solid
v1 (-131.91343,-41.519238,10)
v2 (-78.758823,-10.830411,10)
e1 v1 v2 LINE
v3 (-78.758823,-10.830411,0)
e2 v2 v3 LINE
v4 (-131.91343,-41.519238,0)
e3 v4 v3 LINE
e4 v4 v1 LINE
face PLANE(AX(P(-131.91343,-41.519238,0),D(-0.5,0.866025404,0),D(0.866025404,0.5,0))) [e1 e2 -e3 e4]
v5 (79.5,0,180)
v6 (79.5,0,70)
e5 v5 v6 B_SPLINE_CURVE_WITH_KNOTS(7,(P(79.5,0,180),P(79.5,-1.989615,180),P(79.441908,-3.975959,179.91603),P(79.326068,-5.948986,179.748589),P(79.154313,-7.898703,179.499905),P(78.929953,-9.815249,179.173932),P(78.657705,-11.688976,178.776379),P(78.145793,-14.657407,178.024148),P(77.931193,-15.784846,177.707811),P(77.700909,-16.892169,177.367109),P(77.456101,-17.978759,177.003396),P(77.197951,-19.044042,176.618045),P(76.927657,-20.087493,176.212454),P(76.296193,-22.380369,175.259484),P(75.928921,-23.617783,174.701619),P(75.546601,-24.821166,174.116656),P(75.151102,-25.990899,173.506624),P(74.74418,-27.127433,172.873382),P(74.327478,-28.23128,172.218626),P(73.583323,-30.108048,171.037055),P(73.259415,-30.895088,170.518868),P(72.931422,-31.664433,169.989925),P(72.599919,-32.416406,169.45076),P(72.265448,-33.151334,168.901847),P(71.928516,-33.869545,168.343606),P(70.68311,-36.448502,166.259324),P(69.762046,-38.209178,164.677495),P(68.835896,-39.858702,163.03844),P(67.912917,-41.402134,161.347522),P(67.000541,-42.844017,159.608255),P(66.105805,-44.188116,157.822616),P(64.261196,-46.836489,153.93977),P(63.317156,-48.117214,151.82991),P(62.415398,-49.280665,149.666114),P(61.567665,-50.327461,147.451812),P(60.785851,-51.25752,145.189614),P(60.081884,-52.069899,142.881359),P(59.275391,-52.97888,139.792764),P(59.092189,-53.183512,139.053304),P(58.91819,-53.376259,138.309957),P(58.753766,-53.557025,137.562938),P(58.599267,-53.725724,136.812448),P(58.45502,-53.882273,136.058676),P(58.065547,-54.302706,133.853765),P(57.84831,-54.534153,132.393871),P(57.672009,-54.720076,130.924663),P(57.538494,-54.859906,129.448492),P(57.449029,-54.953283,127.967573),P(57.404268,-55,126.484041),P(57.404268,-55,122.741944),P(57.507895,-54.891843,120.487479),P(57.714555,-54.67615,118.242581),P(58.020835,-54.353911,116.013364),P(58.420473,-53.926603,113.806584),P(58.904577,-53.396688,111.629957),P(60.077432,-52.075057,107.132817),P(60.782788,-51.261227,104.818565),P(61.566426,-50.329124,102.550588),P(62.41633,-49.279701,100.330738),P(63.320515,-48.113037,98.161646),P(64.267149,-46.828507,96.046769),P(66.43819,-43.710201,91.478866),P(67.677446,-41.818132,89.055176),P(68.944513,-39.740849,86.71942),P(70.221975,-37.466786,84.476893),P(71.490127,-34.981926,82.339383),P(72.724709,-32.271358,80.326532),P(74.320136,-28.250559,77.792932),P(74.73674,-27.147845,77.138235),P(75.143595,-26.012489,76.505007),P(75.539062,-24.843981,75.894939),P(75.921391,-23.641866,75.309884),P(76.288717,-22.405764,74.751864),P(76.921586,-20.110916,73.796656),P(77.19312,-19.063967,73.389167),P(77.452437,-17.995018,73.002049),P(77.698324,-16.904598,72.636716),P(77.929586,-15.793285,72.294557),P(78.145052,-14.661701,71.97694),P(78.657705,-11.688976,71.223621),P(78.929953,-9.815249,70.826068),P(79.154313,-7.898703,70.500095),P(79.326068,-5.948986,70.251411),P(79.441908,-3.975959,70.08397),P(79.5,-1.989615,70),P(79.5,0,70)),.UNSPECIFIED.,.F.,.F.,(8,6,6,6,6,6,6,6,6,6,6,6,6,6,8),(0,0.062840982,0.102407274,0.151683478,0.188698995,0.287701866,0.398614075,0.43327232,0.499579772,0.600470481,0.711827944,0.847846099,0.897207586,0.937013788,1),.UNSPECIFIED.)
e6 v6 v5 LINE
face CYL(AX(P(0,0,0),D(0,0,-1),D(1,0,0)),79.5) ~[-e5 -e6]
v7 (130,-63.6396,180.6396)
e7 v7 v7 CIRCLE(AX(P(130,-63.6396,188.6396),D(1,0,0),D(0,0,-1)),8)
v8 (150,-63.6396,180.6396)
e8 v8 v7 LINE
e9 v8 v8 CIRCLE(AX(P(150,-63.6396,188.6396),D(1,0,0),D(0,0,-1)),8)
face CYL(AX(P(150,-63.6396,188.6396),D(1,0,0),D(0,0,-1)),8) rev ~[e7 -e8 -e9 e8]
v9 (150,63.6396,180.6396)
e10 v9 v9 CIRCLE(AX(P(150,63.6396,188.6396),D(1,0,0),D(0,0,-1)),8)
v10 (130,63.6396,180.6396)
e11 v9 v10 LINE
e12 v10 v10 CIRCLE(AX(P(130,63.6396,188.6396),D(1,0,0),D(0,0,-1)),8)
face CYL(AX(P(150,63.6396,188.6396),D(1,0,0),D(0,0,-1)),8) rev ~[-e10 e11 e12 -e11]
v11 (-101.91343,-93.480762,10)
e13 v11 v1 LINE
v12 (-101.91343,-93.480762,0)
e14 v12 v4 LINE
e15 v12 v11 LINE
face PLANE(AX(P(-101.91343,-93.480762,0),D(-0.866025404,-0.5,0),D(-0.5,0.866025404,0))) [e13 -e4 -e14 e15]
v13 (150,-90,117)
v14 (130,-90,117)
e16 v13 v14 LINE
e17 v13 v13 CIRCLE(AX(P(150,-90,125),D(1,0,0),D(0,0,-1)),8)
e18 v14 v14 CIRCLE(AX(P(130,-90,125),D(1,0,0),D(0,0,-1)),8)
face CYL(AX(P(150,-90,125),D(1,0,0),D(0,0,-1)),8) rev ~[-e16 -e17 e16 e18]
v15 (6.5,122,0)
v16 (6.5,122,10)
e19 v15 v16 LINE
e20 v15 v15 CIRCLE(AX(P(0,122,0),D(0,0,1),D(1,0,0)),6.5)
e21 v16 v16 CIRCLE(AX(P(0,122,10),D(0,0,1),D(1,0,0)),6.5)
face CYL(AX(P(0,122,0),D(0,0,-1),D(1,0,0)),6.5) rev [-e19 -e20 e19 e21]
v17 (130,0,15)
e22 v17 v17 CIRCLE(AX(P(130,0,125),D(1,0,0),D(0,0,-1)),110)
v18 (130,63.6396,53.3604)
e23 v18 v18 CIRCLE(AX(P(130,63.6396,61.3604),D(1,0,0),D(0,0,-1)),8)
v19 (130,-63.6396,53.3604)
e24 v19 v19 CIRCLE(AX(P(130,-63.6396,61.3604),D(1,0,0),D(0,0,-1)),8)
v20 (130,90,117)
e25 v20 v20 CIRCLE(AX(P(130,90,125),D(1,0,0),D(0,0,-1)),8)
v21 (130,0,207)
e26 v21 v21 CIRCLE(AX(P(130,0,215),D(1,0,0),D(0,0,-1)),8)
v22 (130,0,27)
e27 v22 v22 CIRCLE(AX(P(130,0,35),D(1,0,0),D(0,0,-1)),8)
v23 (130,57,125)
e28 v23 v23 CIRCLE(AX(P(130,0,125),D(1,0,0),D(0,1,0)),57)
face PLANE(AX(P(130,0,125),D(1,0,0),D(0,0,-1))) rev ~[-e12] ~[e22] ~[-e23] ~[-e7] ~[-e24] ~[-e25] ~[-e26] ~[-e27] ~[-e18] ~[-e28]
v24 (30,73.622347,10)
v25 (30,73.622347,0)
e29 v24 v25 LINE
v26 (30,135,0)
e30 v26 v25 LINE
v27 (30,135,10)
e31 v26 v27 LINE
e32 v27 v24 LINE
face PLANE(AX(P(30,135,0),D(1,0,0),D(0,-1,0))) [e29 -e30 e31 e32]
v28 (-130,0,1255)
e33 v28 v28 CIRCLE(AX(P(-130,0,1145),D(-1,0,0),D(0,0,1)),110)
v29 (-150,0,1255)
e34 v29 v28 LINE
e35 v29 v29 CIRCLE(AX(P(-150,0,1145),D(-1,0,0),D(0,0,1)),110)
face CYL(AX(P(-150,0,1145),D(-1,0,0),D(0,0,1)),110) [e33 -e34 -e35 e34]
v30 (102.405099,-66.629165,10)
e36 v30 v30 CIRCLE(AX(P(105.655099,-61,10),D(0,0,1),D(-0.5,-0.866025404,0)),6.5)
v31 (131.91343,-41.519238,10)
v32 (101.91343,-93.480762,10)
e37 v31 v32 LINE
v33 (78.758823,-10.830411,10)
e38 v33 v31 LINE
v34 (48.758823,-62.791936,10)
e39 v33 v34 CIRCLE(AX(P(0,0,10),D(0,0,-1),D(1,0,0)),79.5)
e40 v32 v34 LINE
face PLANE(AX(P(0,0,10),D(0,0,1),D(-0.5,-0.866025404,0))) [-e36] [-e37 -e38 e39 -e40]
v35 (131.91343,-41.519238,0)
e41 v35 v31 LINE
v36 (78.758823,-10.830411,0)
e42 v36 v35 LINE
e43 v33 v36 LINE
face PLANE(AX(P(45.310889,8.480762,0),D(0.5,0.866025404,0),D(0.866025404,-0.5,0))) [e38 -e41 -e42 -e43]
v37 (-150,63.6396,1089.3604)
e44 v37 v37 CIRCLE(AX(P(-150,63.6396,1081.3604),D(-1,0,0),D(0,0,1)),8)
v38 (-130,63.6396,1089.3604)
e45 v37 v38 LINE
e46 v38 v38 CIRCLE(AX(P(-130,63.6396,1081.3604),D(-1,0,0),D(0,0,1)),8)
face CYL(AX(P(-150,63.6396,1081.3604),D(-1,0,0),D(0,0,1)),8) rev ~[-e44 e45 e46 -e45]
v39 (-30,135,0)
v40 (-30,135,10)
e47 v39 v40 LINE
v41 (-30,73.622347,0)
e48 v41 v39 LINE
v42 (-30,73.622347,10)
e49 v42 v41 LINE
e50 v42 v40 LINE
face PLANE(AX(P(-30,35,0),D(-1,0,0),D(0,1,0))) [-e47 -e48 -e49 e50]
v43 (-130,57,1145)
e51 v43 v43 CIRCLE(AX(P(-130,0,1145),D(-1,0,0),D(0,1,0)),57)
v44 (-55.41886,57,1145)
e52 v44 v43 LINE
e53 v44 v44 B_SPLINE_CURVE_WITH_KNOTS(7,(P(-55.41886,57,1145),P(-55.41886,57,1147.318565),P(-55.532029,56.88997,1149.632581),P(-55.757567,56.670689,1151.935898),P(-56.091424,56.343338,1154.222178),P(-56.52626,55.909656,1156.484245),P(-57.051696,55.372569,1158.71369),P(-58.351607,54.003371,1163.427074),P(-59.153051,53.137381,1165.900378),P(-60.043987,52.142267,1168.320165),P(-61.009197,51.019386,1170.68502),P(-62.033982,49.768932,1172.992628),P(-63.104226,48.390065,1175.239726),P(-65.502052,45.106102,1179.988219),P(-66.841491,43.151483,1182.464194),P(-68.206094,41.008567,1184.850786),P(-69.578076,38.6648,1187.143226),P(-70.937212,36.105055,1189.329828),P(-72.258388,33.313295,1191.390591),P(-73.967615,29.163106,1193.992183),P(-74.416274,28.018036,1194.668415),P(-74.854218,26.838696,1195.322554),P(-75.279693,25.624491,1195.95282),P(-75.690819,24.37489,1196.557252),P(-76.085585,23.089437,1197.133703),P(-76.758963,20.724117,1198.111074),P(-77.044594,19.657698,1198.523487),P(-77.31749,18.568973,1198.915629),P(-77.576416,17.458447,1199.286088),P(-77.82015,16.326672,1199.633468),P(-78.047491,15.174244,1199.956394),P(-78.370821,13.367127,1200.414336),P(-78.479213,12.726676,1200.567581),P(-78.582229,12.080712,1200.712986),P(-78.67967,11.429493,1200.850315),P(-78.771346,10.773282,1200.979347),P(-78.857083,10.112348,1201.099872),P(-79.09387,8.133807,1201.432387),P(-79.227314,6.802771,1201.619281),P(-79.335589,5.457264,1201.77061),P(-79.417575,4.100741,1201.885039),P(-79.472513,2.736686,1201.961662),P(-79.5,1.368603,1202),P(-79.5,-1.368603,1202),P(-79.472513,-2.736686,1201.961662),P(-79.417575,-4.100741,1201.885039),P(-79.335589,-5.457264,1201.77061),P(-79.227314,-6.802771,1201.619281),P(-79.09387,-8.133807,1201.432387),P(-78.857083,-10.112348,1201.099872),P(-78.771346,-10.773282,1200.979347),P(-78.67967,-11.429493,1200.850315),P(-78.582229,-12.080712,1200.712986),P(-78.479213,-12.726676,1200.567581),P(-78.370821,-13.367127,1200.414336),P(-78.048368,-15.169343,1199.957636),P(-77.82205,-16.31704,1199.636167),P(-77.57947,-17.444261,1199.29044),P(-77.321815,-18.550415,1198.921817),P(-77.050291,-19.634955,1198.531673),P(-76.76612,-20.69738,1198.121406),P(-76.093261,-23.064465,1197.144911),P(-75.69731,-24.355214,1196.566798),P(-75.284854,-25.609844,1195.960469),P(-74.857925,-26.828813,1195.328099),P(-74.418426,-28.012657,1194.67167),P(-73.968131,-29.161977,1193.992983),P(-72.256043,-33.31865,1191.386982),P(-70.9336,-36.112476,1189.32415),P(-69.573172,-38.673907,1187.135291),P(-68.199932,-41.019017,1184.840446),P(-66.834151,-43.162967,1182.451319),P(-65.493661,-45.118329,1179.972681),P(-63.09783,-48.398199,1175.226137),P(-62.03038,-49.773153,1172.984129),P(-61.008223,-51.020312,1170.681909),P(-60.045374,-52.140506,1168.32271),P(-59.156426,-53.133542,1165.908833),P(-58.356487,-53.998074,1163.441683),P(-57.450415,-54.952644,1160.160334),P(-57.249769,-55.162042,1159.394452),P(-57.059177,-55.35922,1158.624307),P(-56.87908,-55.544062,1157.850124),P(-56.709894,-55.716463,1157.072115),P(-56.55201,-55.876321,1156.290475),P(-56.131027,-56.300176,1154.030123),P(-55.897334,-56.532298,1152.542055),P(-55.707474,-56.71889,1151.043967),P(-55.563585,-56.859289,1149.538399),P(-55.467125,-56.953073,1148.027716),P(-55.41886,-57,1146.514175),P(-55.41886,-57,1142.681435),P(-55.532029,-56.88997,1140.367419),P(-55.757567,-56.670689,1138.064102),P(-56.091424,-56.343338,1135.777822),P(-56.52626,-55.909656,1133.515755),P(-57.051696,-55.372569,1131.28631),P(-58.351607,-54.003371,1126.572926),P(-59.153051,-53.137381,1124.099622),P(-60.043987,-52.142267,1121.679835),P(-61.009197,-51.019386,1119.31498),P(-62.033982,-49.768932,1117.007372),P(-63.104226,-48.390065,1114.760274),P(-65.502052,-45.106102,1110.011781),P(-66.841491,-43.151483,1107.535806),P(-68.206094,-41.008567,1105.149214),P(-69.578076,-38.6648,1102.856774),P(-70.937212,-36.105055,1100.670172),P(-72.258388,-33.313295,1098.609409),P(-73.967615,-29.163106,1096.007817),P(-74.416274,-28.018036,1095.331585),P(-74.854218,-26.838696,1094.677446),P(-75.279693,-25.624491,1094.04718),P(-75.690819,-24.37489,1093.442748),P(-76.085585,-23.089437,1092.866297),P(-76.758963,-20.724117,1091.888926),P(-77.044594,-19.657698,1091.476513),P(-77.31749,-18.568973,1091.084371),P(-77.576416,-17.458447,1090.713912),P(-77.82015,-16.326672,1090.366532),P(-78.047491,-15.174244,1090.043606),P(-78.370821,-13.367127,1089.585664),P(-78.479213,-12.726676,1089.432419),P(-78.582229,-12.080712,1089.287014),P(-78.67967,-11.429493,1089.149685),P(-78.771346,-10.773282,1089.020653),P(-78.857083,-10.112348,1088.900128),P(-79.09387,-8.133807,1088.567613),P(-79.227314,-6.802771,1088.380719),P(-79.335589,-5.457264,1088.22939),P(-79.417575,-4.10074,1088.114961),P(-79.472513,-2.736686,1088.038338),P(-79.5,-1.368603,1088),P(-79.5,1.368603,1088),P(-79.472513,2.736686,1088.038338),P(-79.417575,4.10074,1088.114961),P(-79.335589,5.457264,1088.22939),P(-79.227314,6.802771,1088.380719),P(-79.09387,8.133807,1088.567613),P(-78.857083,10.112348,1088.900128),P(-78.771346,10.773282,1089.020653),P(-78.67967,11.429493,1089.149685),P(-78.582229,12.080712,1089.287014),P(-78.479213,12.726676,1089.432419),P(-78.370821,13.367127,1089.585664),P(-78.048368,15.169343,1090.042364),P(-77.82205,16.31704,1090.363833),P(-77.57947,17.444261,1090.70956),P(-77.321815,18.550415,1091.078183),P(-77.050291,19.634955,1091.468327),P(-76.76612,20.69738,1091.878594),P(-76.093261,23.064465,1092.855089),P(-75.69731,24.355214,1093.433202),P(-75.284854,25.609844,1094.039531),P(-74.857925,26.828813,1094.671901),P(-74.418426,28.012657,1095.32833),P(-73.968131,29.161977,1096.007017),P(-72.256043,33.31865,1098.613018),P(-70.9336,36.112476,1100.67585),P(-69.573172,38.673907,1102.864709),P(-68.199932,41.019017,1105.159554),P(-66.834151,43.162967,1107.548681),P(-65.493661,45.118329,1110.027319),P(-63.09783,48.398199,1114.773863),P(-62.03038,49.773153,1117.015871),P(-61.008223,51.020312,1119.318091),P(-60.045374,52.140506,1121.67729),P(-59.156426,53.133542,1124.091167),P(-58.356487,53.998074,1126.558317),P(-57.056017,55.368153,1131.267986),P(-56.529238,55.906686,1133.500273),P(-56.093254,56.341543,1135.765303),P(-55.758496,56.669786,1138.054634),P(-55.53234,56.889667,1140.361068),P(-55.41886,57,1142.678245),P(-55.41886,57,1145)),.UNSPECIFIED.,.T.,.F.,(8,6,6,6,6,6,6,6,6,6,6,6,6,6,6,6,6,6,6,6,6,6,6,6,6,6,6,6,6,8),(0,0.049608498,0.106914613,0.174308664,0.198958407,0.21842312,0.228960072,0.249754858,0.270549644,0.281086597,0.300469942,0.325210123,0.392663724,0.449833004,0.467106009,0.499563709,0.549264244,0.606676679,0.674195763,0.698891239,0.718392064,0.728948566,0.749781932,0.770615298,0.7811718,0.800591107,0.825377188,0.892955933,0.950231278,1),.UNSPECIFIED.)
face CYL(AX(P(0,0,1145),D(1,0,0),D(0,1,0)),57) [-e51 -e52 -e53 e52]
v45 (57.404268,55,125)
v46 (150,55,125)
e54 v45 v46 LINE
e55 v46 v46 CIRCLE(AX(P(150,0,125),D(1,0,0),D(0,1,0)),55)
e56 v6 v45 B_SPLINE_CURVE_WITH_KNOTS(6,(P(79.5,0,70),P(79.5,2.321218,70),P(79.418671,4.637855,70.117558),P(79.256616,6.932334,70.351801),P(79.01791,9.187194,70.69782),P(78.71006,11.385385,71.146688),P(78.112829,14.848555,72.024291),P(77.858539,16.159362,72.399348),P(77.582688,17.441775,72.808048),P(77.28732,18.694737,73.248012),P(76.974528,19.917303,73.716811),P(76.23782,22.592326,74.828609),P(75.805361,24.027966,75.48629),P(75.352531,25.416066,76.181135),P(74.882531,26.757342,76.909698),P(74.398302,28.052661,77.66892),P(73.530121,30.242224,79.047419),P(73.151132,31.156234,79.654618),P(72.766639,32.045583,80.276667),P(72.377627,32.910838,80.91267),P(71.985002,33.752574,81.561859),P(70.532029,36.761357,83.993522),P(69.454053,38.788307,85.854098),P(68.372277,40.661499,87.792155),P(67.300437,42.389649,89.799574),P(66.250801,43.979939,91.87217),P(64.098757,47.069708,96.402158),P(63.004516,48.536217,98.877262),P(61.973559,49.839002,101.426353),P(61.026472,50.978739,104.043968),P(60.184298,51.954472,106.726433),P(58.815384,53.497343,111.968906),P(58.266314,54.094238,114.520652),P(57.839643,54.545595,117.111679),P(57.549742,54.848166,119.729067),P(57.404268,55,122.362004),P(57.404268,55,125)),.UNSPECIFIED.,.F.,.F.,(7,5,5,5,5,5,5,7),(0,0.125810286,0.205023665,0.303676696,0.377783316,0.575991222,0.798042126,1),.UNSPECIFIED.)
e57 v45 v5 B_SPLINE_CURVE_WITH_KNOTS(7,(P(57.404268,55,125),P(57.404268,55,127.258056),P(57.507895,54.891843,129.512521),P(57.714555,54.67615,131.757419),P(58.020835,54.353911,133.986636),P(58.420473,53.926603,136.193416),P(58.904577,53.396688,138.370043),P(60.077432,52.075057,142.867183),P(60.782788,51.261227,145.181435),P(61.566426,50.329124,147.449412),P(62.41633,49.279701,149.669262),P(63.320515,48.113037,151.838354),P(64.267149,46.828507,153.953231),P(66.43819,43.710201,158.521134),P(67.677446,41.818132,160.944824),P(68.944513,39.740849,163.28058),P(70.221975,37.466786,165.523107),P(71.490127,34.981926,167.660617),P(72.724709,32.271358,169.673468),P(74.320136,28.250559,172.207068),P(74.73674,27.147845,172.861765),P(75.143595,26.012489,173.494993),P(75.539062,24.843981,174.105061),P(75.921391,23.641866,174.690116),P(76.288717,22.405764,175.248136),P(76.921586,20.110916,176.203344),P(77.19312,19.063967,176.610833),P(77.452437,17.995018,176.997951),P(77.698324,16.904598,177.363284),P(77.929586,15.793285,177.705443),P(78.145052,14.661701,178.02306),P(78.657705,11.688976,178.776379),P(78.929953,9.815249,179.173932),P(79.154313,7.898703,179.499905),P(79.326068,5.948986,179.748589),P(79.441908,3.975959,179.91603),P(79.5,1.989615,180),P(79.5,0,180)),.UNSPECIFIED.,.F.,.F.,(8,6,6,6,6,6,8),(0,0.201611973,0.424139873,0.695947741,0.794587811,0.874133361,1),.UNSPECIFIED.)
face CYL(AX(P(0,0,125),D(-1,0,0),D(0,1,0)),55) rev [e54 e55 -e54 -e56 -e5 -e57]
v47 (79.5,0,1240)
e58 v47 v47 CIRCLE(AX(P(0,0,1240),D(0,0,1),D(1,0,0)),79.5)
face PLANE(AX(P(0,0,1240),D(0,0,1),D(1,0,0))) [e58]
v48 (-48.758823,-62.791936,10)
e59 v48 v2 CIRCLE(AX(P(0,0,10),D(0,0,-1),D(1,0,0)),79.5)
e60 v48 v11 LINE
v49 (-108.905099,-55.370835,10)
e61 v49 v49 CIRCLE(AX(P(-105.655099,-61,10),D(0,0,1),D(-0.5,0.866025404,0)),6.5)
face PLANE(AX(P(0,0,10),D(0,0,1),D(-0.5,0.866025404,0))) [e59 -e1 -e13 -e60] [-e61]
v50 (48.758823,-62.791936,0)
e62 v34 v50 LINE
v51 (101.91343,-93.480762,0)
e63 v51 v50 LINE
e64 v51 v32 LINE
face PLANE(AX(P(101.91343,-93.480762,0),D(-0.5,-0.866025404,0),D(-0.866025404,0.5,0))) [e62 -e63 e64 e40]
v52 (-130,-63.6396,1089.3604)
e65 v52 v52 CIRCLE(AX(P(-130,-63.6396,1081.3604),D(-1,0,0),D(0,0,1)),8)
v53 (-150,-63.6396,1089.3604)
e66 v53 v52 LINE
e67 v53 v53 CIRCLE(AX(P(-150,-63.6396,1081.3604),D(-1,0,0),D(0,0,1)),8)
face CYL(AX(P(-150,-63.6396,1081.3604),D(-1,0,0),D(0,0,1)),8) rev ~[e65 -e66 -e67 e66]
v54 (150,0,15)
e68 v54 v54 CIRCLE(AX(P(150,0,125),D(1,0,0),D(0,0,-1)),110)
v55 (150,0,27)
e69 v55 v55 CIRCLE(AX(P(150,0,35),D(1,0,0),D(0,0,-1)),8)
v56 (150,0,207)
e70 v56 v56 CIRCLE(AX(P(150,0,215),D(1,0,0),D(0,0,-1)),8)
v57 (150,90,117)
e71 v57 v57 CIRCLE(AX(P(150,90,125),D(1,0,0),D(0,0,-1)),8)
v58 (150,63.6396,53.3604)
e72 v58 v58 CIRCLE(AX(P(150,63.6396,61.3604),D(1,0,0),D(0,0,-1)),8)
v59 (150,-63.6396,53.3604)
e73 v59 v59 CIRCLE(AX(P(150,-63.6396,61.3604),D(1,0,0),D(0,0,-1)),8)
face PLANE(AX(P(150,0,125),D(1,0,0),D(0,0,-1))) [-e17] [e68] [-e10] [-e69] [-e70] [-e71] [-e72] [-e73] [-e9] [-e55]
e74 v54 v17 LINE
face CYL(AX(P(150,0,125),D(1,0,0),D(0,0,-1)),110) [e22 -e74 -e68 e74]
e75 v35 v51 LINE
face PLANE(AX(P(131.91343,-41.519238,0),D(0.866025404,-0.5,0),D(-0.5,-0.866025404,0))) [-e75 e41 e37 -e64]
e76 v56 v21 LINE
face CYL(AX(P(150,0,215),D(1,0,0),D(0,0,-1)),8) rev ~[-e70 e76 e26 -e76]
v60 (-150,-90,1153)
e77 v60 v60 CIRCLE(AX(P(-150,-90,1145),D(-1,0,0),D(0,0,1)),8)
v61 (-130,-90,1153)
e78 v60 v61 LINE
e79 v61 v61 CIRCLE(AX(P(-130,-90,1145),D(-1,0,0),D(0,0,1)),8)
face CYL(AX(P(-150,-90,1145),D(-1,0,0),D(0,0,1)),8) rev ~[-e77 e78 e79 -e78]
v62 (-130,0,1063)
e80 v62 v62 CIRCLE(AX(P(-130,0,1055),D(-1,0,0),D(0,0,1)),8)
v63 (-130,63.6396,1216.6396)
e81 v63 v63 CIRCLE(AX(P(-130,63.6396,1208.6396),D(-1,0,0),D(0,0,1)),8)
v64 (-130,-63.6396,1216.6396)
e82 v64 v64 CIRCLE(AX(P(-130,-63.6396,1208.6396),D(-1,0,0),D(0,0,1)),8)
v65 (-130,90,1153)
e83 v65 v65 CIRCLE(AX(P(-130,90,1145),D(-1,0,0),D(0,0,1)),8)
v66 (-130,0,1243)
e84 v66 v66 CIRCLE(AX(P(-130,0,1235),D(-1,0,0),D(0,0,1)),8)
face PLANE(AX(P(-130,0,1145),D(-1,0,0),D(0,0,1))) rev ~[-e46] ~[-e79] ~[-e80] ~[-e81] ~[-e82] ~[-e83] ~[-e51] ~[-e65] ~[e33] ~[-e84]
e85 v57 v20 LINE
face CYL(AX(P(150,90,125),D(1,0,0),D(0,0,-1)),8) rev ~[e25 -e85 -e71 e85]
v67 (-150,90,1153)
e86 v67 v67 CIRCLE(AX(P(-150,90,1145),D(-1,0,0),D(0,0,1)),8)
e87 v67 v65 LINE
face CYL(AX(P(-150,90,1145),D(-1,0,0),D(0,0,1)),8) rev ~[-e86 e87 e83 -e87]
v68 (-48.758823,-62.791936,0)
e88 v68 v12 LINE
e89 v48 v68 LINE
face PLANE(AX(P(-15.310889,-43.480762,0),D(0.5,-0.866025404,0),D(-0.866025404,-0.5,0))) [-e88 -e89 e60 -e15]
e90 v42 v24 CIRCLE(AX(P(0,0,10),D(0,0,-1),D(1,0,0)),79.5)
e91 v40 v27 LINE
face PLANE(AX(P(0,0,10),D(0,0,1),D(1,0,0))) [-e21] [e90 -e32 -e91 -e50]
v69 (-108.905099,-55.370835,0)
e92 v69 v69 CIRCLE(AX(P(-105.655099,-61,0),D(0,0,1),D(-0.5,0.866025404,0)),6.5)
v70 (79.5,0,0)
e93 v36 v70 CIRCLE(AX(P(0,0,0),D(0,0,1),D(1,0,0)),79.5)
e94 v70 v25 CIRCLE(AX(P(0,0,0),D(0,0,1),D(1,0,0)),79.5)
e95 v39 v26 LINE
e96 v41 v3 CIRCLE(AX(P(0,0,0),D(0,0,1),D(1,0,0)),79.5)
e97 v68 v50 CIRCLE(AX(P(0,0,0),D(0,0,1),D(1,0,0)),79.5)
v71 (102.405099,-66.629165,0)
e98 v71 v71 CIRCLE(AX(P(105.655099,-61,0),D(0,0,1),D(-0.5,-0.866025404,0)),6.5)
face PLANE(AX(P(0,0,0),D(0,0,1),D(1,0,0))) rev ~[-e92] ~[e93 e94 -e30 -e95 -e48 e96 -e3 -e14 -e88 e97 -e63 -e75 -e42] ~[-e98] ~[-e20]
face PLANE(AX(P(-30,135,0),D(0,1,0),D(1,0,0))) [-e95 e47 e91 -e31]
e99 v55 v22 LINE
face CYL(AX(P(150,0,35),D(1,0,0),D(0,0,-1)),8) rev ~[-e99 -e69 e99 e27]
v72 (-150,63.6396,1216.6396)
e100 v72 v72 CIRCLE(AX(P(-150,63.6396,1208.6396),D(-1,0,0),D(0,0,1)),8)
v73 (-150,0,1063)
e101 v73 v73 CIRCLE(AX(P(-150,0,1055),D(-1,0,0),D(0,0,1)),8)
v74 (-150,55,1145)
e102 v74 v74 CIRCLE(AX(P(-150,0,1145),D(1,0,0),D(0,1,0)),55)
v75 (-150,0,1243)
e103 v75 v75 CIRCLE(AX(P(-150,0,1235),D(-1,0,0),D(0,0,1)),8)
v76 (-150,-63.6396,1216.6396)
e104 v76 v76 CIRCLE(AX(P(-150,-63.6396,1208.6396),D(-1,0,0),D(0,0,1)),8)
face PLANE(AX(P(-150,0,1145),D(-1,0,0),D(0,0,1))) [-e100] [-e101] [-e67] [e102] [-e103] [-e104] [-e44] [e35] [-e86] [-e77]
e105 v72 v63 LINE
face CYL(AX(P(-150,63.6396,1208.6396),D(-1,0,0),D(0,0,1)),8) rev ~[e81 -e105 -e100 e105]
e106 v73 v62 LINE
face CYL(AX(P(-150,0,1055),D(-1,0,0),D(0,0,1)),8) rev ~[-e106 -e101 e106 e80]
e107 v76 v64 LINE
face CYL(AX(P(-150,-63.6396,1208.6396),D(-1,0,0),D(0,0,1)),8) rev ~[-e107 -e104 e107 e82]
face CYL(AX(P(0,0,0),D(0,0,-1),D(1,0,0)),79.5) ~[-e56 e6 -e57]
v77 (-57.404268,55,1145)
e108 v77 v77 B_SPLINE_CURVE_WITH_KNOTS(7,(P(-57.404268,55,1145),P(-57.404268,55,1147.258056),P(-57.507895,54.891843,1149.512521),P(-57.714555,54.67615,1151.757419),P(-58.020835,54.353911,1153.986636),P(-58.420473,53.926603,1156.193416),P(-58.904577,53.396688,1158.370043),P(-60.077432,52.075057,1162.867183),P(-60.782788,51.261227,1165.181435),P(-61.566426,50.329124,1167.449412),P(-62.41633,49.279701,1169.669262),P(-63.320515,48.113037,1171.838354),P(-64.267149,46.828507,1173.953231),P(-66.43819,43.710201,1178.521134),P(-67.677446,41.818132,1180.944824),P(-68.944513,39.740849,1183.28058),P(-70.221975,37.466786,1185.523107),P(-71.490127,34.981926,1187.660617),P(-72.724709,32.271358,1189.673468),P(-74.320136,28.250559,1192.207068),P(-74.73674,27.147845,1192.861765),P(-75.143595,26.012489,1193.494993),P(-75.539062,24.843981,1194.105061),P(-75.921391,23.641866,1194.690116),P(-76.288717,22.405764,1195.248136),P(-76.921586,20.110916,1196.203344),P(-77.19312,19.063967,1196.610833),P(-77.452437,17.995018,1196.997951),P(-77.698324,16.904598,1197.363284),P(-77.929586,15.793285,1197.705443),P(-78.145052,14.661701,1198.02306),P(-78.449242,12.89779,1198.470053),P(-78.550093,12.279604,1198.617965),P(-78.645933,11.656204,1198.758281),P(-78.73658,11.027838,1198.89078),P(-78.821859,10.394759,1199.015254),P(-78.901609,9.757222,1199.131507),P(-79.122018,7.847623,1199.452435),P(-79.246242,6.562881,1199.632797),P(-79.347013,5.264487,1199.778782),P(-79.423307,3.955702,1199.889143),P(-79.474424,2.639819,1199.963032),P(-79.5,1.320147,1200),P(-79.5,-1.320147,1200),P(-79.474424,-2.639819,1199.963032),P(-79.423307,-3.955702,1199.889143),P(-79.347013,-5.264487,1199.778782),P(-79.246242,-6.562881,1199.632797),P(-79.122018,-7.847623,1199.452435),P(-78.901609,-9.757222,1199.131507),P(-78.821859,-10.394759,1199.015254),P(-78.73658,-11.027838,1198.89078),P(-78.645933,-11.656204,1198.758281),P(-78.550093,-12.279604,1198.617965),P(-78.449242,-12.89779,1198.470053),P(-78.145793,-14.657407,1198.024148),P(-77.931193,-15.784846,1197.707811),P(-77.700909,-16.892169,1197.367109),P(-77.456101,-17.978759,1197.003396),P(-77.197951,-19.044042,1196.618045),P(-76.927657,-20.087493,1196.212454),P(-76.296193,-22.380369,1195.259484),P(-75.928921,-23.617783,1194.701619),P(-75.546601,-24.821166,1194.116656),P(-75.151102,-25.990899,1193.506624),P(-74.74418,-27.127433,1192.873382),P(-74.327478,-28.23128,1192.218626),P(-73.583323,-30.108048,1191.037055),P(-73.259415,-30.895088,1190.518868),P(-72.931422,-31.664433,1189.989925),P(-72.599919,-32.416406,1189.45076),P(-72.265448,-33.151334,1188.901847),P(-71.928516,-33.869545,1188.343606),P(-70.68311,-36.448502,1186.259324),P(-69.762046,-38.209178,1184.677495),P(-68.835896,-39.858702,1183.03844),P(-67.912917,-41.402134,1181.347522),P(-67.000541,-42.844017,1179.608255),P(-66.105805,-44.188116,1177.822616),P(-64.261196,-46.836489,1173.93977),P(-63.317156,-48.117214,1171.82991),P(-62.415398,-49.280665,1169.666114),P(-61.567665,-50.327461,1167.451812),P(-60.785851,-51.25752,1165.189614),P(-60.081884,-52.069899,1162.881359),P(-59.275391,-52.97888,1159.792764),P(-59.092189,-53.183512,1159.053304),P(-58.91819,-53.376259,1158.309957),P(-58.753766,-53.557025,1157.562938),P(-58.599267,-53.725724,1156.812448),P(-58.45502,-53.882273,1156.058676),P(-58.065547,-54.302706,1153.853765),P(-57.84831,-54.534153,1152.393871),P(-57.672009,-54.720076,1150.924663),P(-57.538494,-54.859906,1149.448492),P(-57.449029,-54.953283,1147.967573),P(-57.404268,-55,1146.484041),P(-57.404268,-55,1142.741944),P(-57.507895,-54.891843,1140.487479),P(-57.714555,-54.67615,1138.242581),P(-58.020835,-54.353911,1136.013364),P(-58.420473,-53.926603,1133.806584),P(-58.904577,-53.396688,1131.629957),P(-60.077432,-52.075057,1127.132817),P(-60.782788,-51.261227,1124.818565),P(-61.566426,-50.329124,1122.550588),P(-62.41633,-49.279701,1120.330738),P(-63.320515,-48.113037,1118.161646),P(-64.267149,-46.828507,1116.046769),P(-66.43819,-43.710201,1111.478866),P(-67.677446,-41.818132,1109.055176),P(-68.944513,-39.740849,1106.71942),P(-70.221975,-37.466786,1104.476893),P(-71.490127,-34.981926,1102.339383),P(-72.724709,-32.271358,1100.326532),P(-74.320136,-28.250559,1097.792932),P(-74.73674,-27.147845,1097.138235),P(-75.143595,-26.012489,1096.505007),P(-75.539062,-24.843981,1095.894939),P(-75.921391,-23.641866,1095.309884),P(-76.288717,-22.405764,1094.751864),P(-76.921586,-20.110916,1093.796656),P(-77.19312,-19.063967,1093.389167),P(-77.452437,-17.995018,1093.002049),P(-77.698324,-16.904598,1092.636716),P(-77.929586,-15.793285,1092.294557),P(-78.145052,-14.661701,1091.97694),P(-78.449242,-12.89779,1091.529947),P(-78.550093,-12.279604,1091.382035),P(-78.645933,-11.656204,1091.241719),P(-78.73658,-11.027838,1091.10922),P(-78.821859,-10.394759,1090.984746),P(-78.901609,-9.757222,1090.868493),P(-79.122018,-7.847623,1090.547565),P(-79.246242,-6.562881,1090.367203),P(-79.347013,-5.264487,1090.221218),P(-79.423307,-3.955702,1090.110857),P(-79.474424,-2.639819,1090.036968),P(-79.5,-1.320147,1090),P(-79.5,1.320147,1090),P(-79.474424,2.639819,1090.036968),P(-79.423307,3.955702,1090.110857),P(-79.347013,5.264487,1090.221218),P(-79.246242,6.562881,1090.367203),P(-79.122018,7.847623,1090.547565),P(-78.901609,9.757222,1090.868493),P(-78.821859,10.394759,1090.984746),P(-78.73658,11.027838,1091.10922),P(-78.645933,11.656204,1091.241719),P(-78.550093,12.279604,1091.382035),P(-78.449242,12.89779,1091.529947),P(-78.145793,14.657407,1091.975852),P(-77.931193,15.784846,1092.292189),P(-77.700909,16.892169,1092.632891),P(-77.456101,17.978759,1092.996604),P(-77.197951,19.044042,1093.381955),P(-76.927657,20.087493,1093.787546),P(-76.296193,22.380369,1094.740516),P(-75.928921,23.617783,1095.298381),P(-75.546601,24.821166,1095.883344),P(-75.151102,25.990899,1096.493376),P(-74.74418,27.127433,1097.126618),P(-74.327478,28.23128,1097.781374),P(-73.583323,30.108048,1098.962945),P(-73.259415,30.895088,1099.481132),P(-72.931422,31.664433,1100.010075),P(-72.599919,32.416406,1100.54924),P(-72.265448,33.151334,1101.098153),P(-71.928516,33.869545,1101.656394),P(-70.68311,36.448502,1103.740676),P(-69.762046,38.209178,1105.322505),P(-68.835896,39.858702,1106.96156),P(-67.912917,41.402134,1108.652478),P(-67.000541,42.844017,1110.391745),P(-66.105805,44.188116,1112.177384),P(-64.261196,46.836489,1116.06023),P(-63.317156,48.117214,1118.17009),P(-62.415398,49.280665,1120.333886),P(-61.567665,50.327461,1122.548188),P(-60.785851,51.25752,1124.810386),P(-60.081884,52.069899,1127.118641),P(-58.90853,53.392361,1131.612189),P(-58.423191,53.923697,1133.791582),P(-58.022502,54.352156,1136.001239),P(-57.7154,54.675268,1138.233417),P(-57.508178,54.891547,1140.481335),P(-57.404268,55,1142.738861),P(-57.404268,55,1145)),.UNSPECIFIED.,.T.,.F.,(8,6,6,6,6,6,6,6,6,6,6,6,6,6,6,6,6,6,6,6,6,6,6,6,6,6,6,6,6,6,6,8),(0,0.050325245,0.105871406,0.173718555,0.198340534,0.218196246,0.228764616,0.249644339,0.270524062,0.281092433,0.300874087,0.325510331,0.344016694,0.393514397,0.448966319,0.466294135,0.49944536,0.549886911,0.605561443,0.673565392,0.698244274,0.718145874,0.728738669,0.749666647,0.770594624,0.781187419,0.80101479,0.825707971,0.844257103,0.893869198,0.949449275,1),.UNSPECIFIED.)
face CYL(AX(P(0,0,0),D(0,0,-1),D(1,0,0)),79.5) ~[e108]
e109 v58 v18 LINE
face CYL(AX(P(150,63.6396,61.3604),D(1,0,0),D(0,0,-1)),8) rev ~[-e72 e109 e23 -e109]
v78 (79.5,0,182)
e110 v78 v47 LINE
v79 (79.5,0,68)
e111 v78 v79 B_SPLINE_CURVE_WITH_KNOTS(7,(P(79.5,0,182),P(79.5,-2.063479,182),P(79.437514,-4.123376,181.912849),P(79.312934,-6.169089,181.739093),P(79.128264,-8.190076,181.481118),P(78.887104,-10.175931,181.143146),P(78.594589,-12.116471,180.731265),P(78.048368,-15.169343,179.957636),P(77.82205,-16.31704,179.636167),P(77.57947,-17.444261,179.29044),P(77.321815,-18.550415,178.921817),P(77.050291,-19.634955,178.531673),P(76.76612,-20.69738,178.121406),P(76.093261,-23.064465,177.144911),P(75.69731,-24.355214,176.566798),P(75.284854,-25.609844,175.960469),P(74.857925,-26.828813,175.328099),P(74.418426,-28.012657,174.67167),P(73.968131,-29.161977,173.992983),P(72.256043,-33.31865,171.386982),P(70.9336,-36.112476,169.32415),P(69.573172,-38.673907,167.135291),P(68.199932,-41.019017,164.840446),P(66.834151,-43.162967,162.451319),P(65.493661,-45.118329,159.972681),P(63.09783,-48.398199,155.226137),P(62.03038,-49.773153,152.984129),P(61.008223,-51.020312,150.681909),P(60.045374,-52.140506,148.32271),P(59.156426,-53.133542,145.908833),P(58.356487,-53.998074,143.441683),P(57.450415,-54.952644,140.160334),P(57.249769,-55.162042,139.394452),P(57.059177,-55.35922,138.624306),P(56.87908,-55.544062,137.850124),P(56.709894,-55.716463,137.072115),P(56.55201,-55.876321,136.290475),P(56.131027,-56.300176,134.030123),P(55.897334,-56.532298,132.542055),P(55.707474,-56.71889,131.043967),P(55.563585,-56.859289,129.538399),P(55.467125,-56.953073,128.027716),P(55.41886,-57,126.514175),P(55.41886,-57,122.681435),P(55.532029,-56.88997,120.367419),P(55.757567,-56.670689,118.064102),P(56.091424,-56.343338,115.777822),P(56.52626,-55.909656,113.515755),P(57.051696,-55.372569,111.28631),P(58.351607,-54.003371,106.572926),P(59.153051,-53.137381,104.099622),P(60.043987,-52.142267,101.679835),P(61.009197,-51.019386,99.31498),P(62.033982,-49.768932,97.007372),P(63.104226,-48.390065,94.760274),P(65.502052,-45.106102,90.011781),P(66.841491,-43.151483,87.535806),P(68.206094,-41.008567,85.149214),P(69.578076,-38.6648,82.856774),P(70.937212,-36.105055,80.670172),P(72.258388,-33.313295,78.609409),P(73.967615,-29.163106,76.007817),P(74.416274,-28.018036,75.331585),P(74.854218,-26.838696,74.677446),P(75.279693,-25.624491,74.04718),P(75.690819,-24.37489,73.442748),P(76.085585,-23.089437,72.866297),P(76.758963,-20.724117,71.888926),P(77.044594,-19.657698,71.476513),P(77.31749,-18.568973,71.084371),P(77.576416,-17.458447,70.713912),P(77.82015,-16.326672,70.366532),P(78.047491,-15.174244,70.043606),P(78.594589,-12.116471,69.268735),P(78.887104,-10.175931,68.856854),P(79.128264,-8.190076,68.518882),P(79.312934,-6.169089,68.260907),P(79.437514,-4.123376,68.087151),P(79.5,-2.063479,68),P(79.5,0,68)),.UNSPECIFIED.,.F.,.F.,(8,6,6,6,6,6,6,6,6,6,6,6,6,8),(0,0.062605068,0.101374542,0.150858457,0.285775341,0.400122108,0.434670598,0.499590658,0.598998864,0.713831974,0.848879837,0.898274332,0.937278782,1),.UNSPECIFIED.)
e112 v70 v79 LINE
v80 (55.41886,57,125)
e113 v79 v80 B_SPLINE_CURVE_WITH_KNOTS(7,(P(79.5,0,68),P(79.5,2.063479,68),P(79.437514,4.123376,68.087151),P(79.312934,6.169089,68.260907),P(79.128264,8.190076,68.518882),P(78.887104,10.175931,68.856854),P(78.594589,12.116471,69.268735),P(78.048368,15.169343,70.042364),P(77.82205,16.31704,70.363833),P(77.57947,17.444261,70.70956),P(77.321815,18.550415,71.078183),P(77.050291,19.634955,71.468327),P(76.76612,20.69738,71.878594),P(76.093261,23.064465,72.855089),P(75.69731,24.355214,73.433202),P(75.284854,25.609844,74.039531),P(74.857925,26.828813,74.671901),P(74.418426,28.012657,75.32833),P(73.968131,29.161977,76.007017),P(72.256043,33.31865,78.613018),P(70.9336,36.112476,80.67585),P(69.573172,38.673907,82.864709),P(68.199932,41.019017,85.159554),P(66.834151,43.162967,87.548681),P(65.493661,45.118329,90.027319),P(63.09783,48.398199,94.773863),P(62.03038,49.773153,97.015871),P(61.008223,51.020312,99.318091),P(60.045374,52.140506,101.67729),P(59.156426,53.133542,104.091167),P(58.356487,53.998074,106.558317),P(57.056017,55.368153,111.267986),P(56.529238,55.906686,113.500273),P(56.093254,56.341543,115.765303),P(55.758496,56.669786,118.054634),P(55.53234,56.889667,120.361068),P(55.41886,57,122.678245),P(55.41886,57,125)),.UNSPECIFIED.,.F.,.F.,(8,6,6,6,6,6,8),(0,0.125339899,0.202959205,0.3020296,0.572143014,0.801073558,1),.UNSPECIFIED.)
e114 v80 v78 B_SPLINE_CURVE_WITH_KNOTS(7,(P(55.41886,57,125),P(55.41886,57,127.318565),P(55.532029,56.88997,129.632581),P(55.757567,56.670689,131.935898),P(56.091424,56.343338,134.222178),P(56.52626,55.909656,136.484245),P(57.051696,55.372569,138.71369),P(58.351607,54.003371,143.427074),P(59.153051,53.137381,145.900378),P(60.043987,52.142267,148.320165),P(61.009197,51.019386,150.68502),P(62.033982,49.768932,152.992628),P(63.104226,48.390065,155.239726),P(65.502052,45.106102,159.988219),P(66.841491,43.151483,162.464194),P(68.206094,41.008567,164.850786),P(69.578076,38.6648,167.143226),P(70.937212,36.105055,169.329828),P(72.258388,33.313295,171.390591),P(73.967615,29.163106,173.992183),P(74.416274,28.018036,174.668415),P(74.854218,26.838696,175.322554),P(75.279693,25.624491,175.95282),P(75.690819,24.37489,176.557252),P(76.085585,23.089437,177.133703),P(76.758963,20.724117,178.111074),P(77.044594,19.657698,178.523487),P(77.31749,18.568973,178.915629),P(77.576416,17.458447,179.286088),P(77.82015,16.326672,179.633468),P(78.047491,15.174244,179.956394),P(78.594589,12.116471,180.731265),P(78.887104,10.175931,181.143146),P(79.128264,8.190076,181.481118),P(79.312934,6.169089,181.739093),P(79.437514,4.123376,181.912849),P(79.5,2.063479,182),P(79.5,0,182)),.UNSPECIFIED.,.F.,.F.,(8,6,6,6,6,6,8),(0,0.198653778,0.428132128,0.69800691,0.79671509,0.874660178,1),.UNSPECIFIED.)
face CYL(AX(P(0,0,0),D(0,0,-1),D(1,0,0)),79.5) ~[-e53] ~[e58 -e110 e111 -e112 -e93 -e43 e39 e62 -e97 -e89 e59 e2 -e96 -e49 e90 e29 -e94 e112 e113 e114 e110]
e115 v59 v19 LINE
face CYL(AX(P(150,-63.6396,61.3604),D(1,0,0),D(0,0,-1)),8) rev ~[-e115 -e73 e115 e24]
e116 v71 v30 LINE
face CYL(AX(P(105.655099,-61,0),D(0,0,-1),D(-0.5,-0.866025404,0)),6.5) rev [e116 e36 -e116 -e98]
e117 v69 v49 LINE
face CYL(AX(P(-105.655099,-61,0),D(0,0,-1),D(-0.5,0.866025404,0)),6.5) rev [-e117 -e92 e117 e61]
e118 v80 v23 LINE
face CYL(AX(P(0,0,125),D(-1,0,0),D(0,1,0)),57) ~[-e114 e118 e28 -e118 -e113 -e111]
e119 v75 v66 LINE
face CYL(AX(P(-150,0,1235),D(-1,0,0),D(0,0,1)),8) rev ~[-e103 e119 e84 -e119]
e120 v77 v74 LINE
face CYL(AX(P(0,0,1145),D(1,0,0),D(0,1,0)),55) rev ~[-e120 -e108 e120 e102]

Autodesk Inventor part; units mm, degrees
ref_plane "YZ Plane" through (0, 0, 0) normal (1, 0, 0) x (0, 1, 0)
ref_plane "XZ Plane" through (0, 0, 0) normal (0, 1, 0) x (-1, 0, 0)
ref_plane "XY Plane" through (0, 0, 0) normal (0, 0, 1) x (1, 0, 0)
sketch "Sketch1" plane through (0, 0, 0) normal (0, 0, 1) x (1, 0, 0)
  line L0 (-30, 135) -> (30, 135)
  line L1 (30, 135) -> (30, 35)
  line L2 (30, 35) -> (-30, 35)
  line L3 (-30, 35) -> (-30, 135)
  line L4 (119.0409, 377.068) -> (884.0572, 377.068) construction
  line L5 (884.0572, 377.068) -> (884.0572, -61.283) construction
  line L6 (884.0572, -61.283) -> (119.0409, -61.283) construction
  line L7 (119.0409, -61.283) -> (119.0409, 377.068) construction
  line L8 (528.2997, 310.003) -> (528.2997, 129.9198)
  line L9 (528.2997, 219.9614) -> (642.893, 286.807)
  circle A0 centre (0, 122) radius 6.5
  point P0 (0, 0)
  point P1 (0, 35)
  point P2 (0, 135)
  dimension "d9" = 60
  dimension "d10" = 100
  dimension "d13" = 135
  dimension "d14" = 13
  dimension "d15" = 13
extrude "Extrusion1" add sketch "Sketch1" along normal blind 10
pattern_circular "Circular Pattern1" count 3 over 360 about axis through (0, 0, -10) along (0, 0, 1) of "Extrusion1"
sketch "Sketch2" plane through (0, 0, 0) normal (0, 0, 1) x (1, 0, 0)
  circle A0 centre (0, 0) radius 79.5
  dimension "d21" = 159
extrude "Extrusion2" add sketch "Sketch2" along normal blind 1240
sketch "Sketch3" plane through (0, 0, 0) normal (1, 0, 0) x (0, 1, 0)
  circle A0 centre (0, 125) radius 57
  circle A1 centre (0, 125) radius 55
  point P0 (0, 0)
  dimension "d24" = 114
  dimension "d25" = 125
  dimension "d112" = 2
extrude "Extrusion3" add sketch "Sketch3" along normal blind 150
sketch "Sketch4" plane through (0, 0, 0) normal (1, 0, 0) x (0, 1, 0)
  circle A0 centre (0, 1145) radius 57
  line L0 (508.6061, 725.4056) -> (1697.4131, 725.4056) construction
  line L1 (1697.4131, 725.4056) -> (1697.4131, 178.9914) construction
  line L2 (1697.4131, 178.9914) -> (508.6061, 178.9914) construction
  line L3 (508.6061, 178.9914) -> (508.6061, 725.4056) construction
  line L4 (1437.8763, 515.5441) -> (1697.4131, 515.5441)
  line L5 (1697.4131, 515.5441) -> (1697.4131, 335.5441)
  line L6 (1697.4131, 335.5441) -> (1437.8763, 335.5441)
  line L7 (1437.8763, 335.5441) -> (1437.8763, 515.5441)
  line L8 (1526.1756, 486.7469) -> (1616.156, 486.7469)
  line L9 (73.6223, 0) -> (73.6223, 10) projected
  line L10 (73.6223, 0) -> (-10.8304, 0) projected
  line L11 (-10.8304, 10) -> (-10.8304, 0) projected
  line L12 (-62.7919, 10) -> (-10.8304, 10) projected
  line L13 (-62.7919, 0) -> (-62.7919, 10) projected
  line L14 (-62.7919, 0) -> (-62.7919, 0) projected
  line L15 (-62.7919, 10) -> (-62.7919, 0) projected
  line L16 (-10.8304, 10) -> (-62.7919, 10) projected
  line L17 (-10.8304, 0) -> (-10.8304, 10) projected
  line L18 (-10.8304, 0) -> (73.6223, 0) projected
  line L19 (73.6223, 10) -> (73.6223, 0) projected
  line L20 (73.6223, 10) -> (73.6223, 10) projected
  line L21 (79.5, 1240) -> (-79.5, 1240) projected
  circle A1 centre (0, 1145) radius 55
  point P0 (0, 0)
  point P1 (57, 125)
  dimension "d28" = 114
  dimension "d29" = 1145
  dimension "d71" = 180
  dimension "d90" = 89.9804
  dimension "d93" = 95
  dimension "d103" = 2
extrude "Extrusion4" add sketch "Sketch4" against normal blind 150 contours A0
sketch "Sketch5" plane through (-150, 0, 1145) normal (-1, 0, 0) x (0, 0, 1)
  circle A0 centre (0, 0) radius 57 projected
  circle A1 centre (0, 0) radius 110
  circle A2 centre (0, 0) radius 90 construction
  circle A3 centre (90, 0) radius 8
  circle A4 centre (63.6396, 63.6396) radius 8
  circle A5 centre (0, 90) radius 8
  circle A6 centre (-63.6396, 63.6396) radius 8
  circle A7 centre (-90, 0) radius 8
  circle A8 centre (-63.6396, -63.6396) radius 8
  circle A9 centre (0, -90) radius 8
  circle A10 centre (63.6396, -63.6396) radius 8
  point P0 (-1145, 0)
  dimension "d95" = 180
  dimension "d94" = 220
  dimension "d96" = 16
  dimension "d99" = 360
extrude "Extrusion5" add sketch "Sketch5" against normal blind 20
sketch "Sketch6" plane through (150, 0, 125) normal (1, 0, 0) x (0, 0, -1)
  circle A0 centre (0, 0) radius 110
  circle A1 centre (0, 0) radius 90 construction
  circle A2 centre (-90, 0) radius 8
  circle A3 centre (-63.6396, -63.6396) radius 8
  circle A4 centre (0, -90) radius 8
  circle A5 centre (63.6396, -63.6396) radius 8
  circle A6 centre (90, 0) radius 8
  circle A7 centre (63.6396, 63.6396) radius 8
  circle A8 centre (0, 90) radius 8
  circle A9 centre (-63.6396, 63.6396) radius 8
  circle A10 centre (0, 0) radius 57 projected
  point P0 (125, 0)
  dimension "d107" = 180
  dimension "d106" = 220
  dimension "d108" = 16
  dimension "d109" = 360
extrude "Extrusion6" add sketch "Sketch6" against normal blind 20
equation "\"d21\" = main_diameter"
equation "\"d22\" = main_height"
equation "\"d24\" = connect_pipe"
equation "\"d28\" = connect_pipe"
equation "\"main_height\" = 1240"
equation "\"connect_pipe\" = 114"
equation "\"main_diameter\" = 159"
properties part number "UV-Cleaner ODV-8C"
